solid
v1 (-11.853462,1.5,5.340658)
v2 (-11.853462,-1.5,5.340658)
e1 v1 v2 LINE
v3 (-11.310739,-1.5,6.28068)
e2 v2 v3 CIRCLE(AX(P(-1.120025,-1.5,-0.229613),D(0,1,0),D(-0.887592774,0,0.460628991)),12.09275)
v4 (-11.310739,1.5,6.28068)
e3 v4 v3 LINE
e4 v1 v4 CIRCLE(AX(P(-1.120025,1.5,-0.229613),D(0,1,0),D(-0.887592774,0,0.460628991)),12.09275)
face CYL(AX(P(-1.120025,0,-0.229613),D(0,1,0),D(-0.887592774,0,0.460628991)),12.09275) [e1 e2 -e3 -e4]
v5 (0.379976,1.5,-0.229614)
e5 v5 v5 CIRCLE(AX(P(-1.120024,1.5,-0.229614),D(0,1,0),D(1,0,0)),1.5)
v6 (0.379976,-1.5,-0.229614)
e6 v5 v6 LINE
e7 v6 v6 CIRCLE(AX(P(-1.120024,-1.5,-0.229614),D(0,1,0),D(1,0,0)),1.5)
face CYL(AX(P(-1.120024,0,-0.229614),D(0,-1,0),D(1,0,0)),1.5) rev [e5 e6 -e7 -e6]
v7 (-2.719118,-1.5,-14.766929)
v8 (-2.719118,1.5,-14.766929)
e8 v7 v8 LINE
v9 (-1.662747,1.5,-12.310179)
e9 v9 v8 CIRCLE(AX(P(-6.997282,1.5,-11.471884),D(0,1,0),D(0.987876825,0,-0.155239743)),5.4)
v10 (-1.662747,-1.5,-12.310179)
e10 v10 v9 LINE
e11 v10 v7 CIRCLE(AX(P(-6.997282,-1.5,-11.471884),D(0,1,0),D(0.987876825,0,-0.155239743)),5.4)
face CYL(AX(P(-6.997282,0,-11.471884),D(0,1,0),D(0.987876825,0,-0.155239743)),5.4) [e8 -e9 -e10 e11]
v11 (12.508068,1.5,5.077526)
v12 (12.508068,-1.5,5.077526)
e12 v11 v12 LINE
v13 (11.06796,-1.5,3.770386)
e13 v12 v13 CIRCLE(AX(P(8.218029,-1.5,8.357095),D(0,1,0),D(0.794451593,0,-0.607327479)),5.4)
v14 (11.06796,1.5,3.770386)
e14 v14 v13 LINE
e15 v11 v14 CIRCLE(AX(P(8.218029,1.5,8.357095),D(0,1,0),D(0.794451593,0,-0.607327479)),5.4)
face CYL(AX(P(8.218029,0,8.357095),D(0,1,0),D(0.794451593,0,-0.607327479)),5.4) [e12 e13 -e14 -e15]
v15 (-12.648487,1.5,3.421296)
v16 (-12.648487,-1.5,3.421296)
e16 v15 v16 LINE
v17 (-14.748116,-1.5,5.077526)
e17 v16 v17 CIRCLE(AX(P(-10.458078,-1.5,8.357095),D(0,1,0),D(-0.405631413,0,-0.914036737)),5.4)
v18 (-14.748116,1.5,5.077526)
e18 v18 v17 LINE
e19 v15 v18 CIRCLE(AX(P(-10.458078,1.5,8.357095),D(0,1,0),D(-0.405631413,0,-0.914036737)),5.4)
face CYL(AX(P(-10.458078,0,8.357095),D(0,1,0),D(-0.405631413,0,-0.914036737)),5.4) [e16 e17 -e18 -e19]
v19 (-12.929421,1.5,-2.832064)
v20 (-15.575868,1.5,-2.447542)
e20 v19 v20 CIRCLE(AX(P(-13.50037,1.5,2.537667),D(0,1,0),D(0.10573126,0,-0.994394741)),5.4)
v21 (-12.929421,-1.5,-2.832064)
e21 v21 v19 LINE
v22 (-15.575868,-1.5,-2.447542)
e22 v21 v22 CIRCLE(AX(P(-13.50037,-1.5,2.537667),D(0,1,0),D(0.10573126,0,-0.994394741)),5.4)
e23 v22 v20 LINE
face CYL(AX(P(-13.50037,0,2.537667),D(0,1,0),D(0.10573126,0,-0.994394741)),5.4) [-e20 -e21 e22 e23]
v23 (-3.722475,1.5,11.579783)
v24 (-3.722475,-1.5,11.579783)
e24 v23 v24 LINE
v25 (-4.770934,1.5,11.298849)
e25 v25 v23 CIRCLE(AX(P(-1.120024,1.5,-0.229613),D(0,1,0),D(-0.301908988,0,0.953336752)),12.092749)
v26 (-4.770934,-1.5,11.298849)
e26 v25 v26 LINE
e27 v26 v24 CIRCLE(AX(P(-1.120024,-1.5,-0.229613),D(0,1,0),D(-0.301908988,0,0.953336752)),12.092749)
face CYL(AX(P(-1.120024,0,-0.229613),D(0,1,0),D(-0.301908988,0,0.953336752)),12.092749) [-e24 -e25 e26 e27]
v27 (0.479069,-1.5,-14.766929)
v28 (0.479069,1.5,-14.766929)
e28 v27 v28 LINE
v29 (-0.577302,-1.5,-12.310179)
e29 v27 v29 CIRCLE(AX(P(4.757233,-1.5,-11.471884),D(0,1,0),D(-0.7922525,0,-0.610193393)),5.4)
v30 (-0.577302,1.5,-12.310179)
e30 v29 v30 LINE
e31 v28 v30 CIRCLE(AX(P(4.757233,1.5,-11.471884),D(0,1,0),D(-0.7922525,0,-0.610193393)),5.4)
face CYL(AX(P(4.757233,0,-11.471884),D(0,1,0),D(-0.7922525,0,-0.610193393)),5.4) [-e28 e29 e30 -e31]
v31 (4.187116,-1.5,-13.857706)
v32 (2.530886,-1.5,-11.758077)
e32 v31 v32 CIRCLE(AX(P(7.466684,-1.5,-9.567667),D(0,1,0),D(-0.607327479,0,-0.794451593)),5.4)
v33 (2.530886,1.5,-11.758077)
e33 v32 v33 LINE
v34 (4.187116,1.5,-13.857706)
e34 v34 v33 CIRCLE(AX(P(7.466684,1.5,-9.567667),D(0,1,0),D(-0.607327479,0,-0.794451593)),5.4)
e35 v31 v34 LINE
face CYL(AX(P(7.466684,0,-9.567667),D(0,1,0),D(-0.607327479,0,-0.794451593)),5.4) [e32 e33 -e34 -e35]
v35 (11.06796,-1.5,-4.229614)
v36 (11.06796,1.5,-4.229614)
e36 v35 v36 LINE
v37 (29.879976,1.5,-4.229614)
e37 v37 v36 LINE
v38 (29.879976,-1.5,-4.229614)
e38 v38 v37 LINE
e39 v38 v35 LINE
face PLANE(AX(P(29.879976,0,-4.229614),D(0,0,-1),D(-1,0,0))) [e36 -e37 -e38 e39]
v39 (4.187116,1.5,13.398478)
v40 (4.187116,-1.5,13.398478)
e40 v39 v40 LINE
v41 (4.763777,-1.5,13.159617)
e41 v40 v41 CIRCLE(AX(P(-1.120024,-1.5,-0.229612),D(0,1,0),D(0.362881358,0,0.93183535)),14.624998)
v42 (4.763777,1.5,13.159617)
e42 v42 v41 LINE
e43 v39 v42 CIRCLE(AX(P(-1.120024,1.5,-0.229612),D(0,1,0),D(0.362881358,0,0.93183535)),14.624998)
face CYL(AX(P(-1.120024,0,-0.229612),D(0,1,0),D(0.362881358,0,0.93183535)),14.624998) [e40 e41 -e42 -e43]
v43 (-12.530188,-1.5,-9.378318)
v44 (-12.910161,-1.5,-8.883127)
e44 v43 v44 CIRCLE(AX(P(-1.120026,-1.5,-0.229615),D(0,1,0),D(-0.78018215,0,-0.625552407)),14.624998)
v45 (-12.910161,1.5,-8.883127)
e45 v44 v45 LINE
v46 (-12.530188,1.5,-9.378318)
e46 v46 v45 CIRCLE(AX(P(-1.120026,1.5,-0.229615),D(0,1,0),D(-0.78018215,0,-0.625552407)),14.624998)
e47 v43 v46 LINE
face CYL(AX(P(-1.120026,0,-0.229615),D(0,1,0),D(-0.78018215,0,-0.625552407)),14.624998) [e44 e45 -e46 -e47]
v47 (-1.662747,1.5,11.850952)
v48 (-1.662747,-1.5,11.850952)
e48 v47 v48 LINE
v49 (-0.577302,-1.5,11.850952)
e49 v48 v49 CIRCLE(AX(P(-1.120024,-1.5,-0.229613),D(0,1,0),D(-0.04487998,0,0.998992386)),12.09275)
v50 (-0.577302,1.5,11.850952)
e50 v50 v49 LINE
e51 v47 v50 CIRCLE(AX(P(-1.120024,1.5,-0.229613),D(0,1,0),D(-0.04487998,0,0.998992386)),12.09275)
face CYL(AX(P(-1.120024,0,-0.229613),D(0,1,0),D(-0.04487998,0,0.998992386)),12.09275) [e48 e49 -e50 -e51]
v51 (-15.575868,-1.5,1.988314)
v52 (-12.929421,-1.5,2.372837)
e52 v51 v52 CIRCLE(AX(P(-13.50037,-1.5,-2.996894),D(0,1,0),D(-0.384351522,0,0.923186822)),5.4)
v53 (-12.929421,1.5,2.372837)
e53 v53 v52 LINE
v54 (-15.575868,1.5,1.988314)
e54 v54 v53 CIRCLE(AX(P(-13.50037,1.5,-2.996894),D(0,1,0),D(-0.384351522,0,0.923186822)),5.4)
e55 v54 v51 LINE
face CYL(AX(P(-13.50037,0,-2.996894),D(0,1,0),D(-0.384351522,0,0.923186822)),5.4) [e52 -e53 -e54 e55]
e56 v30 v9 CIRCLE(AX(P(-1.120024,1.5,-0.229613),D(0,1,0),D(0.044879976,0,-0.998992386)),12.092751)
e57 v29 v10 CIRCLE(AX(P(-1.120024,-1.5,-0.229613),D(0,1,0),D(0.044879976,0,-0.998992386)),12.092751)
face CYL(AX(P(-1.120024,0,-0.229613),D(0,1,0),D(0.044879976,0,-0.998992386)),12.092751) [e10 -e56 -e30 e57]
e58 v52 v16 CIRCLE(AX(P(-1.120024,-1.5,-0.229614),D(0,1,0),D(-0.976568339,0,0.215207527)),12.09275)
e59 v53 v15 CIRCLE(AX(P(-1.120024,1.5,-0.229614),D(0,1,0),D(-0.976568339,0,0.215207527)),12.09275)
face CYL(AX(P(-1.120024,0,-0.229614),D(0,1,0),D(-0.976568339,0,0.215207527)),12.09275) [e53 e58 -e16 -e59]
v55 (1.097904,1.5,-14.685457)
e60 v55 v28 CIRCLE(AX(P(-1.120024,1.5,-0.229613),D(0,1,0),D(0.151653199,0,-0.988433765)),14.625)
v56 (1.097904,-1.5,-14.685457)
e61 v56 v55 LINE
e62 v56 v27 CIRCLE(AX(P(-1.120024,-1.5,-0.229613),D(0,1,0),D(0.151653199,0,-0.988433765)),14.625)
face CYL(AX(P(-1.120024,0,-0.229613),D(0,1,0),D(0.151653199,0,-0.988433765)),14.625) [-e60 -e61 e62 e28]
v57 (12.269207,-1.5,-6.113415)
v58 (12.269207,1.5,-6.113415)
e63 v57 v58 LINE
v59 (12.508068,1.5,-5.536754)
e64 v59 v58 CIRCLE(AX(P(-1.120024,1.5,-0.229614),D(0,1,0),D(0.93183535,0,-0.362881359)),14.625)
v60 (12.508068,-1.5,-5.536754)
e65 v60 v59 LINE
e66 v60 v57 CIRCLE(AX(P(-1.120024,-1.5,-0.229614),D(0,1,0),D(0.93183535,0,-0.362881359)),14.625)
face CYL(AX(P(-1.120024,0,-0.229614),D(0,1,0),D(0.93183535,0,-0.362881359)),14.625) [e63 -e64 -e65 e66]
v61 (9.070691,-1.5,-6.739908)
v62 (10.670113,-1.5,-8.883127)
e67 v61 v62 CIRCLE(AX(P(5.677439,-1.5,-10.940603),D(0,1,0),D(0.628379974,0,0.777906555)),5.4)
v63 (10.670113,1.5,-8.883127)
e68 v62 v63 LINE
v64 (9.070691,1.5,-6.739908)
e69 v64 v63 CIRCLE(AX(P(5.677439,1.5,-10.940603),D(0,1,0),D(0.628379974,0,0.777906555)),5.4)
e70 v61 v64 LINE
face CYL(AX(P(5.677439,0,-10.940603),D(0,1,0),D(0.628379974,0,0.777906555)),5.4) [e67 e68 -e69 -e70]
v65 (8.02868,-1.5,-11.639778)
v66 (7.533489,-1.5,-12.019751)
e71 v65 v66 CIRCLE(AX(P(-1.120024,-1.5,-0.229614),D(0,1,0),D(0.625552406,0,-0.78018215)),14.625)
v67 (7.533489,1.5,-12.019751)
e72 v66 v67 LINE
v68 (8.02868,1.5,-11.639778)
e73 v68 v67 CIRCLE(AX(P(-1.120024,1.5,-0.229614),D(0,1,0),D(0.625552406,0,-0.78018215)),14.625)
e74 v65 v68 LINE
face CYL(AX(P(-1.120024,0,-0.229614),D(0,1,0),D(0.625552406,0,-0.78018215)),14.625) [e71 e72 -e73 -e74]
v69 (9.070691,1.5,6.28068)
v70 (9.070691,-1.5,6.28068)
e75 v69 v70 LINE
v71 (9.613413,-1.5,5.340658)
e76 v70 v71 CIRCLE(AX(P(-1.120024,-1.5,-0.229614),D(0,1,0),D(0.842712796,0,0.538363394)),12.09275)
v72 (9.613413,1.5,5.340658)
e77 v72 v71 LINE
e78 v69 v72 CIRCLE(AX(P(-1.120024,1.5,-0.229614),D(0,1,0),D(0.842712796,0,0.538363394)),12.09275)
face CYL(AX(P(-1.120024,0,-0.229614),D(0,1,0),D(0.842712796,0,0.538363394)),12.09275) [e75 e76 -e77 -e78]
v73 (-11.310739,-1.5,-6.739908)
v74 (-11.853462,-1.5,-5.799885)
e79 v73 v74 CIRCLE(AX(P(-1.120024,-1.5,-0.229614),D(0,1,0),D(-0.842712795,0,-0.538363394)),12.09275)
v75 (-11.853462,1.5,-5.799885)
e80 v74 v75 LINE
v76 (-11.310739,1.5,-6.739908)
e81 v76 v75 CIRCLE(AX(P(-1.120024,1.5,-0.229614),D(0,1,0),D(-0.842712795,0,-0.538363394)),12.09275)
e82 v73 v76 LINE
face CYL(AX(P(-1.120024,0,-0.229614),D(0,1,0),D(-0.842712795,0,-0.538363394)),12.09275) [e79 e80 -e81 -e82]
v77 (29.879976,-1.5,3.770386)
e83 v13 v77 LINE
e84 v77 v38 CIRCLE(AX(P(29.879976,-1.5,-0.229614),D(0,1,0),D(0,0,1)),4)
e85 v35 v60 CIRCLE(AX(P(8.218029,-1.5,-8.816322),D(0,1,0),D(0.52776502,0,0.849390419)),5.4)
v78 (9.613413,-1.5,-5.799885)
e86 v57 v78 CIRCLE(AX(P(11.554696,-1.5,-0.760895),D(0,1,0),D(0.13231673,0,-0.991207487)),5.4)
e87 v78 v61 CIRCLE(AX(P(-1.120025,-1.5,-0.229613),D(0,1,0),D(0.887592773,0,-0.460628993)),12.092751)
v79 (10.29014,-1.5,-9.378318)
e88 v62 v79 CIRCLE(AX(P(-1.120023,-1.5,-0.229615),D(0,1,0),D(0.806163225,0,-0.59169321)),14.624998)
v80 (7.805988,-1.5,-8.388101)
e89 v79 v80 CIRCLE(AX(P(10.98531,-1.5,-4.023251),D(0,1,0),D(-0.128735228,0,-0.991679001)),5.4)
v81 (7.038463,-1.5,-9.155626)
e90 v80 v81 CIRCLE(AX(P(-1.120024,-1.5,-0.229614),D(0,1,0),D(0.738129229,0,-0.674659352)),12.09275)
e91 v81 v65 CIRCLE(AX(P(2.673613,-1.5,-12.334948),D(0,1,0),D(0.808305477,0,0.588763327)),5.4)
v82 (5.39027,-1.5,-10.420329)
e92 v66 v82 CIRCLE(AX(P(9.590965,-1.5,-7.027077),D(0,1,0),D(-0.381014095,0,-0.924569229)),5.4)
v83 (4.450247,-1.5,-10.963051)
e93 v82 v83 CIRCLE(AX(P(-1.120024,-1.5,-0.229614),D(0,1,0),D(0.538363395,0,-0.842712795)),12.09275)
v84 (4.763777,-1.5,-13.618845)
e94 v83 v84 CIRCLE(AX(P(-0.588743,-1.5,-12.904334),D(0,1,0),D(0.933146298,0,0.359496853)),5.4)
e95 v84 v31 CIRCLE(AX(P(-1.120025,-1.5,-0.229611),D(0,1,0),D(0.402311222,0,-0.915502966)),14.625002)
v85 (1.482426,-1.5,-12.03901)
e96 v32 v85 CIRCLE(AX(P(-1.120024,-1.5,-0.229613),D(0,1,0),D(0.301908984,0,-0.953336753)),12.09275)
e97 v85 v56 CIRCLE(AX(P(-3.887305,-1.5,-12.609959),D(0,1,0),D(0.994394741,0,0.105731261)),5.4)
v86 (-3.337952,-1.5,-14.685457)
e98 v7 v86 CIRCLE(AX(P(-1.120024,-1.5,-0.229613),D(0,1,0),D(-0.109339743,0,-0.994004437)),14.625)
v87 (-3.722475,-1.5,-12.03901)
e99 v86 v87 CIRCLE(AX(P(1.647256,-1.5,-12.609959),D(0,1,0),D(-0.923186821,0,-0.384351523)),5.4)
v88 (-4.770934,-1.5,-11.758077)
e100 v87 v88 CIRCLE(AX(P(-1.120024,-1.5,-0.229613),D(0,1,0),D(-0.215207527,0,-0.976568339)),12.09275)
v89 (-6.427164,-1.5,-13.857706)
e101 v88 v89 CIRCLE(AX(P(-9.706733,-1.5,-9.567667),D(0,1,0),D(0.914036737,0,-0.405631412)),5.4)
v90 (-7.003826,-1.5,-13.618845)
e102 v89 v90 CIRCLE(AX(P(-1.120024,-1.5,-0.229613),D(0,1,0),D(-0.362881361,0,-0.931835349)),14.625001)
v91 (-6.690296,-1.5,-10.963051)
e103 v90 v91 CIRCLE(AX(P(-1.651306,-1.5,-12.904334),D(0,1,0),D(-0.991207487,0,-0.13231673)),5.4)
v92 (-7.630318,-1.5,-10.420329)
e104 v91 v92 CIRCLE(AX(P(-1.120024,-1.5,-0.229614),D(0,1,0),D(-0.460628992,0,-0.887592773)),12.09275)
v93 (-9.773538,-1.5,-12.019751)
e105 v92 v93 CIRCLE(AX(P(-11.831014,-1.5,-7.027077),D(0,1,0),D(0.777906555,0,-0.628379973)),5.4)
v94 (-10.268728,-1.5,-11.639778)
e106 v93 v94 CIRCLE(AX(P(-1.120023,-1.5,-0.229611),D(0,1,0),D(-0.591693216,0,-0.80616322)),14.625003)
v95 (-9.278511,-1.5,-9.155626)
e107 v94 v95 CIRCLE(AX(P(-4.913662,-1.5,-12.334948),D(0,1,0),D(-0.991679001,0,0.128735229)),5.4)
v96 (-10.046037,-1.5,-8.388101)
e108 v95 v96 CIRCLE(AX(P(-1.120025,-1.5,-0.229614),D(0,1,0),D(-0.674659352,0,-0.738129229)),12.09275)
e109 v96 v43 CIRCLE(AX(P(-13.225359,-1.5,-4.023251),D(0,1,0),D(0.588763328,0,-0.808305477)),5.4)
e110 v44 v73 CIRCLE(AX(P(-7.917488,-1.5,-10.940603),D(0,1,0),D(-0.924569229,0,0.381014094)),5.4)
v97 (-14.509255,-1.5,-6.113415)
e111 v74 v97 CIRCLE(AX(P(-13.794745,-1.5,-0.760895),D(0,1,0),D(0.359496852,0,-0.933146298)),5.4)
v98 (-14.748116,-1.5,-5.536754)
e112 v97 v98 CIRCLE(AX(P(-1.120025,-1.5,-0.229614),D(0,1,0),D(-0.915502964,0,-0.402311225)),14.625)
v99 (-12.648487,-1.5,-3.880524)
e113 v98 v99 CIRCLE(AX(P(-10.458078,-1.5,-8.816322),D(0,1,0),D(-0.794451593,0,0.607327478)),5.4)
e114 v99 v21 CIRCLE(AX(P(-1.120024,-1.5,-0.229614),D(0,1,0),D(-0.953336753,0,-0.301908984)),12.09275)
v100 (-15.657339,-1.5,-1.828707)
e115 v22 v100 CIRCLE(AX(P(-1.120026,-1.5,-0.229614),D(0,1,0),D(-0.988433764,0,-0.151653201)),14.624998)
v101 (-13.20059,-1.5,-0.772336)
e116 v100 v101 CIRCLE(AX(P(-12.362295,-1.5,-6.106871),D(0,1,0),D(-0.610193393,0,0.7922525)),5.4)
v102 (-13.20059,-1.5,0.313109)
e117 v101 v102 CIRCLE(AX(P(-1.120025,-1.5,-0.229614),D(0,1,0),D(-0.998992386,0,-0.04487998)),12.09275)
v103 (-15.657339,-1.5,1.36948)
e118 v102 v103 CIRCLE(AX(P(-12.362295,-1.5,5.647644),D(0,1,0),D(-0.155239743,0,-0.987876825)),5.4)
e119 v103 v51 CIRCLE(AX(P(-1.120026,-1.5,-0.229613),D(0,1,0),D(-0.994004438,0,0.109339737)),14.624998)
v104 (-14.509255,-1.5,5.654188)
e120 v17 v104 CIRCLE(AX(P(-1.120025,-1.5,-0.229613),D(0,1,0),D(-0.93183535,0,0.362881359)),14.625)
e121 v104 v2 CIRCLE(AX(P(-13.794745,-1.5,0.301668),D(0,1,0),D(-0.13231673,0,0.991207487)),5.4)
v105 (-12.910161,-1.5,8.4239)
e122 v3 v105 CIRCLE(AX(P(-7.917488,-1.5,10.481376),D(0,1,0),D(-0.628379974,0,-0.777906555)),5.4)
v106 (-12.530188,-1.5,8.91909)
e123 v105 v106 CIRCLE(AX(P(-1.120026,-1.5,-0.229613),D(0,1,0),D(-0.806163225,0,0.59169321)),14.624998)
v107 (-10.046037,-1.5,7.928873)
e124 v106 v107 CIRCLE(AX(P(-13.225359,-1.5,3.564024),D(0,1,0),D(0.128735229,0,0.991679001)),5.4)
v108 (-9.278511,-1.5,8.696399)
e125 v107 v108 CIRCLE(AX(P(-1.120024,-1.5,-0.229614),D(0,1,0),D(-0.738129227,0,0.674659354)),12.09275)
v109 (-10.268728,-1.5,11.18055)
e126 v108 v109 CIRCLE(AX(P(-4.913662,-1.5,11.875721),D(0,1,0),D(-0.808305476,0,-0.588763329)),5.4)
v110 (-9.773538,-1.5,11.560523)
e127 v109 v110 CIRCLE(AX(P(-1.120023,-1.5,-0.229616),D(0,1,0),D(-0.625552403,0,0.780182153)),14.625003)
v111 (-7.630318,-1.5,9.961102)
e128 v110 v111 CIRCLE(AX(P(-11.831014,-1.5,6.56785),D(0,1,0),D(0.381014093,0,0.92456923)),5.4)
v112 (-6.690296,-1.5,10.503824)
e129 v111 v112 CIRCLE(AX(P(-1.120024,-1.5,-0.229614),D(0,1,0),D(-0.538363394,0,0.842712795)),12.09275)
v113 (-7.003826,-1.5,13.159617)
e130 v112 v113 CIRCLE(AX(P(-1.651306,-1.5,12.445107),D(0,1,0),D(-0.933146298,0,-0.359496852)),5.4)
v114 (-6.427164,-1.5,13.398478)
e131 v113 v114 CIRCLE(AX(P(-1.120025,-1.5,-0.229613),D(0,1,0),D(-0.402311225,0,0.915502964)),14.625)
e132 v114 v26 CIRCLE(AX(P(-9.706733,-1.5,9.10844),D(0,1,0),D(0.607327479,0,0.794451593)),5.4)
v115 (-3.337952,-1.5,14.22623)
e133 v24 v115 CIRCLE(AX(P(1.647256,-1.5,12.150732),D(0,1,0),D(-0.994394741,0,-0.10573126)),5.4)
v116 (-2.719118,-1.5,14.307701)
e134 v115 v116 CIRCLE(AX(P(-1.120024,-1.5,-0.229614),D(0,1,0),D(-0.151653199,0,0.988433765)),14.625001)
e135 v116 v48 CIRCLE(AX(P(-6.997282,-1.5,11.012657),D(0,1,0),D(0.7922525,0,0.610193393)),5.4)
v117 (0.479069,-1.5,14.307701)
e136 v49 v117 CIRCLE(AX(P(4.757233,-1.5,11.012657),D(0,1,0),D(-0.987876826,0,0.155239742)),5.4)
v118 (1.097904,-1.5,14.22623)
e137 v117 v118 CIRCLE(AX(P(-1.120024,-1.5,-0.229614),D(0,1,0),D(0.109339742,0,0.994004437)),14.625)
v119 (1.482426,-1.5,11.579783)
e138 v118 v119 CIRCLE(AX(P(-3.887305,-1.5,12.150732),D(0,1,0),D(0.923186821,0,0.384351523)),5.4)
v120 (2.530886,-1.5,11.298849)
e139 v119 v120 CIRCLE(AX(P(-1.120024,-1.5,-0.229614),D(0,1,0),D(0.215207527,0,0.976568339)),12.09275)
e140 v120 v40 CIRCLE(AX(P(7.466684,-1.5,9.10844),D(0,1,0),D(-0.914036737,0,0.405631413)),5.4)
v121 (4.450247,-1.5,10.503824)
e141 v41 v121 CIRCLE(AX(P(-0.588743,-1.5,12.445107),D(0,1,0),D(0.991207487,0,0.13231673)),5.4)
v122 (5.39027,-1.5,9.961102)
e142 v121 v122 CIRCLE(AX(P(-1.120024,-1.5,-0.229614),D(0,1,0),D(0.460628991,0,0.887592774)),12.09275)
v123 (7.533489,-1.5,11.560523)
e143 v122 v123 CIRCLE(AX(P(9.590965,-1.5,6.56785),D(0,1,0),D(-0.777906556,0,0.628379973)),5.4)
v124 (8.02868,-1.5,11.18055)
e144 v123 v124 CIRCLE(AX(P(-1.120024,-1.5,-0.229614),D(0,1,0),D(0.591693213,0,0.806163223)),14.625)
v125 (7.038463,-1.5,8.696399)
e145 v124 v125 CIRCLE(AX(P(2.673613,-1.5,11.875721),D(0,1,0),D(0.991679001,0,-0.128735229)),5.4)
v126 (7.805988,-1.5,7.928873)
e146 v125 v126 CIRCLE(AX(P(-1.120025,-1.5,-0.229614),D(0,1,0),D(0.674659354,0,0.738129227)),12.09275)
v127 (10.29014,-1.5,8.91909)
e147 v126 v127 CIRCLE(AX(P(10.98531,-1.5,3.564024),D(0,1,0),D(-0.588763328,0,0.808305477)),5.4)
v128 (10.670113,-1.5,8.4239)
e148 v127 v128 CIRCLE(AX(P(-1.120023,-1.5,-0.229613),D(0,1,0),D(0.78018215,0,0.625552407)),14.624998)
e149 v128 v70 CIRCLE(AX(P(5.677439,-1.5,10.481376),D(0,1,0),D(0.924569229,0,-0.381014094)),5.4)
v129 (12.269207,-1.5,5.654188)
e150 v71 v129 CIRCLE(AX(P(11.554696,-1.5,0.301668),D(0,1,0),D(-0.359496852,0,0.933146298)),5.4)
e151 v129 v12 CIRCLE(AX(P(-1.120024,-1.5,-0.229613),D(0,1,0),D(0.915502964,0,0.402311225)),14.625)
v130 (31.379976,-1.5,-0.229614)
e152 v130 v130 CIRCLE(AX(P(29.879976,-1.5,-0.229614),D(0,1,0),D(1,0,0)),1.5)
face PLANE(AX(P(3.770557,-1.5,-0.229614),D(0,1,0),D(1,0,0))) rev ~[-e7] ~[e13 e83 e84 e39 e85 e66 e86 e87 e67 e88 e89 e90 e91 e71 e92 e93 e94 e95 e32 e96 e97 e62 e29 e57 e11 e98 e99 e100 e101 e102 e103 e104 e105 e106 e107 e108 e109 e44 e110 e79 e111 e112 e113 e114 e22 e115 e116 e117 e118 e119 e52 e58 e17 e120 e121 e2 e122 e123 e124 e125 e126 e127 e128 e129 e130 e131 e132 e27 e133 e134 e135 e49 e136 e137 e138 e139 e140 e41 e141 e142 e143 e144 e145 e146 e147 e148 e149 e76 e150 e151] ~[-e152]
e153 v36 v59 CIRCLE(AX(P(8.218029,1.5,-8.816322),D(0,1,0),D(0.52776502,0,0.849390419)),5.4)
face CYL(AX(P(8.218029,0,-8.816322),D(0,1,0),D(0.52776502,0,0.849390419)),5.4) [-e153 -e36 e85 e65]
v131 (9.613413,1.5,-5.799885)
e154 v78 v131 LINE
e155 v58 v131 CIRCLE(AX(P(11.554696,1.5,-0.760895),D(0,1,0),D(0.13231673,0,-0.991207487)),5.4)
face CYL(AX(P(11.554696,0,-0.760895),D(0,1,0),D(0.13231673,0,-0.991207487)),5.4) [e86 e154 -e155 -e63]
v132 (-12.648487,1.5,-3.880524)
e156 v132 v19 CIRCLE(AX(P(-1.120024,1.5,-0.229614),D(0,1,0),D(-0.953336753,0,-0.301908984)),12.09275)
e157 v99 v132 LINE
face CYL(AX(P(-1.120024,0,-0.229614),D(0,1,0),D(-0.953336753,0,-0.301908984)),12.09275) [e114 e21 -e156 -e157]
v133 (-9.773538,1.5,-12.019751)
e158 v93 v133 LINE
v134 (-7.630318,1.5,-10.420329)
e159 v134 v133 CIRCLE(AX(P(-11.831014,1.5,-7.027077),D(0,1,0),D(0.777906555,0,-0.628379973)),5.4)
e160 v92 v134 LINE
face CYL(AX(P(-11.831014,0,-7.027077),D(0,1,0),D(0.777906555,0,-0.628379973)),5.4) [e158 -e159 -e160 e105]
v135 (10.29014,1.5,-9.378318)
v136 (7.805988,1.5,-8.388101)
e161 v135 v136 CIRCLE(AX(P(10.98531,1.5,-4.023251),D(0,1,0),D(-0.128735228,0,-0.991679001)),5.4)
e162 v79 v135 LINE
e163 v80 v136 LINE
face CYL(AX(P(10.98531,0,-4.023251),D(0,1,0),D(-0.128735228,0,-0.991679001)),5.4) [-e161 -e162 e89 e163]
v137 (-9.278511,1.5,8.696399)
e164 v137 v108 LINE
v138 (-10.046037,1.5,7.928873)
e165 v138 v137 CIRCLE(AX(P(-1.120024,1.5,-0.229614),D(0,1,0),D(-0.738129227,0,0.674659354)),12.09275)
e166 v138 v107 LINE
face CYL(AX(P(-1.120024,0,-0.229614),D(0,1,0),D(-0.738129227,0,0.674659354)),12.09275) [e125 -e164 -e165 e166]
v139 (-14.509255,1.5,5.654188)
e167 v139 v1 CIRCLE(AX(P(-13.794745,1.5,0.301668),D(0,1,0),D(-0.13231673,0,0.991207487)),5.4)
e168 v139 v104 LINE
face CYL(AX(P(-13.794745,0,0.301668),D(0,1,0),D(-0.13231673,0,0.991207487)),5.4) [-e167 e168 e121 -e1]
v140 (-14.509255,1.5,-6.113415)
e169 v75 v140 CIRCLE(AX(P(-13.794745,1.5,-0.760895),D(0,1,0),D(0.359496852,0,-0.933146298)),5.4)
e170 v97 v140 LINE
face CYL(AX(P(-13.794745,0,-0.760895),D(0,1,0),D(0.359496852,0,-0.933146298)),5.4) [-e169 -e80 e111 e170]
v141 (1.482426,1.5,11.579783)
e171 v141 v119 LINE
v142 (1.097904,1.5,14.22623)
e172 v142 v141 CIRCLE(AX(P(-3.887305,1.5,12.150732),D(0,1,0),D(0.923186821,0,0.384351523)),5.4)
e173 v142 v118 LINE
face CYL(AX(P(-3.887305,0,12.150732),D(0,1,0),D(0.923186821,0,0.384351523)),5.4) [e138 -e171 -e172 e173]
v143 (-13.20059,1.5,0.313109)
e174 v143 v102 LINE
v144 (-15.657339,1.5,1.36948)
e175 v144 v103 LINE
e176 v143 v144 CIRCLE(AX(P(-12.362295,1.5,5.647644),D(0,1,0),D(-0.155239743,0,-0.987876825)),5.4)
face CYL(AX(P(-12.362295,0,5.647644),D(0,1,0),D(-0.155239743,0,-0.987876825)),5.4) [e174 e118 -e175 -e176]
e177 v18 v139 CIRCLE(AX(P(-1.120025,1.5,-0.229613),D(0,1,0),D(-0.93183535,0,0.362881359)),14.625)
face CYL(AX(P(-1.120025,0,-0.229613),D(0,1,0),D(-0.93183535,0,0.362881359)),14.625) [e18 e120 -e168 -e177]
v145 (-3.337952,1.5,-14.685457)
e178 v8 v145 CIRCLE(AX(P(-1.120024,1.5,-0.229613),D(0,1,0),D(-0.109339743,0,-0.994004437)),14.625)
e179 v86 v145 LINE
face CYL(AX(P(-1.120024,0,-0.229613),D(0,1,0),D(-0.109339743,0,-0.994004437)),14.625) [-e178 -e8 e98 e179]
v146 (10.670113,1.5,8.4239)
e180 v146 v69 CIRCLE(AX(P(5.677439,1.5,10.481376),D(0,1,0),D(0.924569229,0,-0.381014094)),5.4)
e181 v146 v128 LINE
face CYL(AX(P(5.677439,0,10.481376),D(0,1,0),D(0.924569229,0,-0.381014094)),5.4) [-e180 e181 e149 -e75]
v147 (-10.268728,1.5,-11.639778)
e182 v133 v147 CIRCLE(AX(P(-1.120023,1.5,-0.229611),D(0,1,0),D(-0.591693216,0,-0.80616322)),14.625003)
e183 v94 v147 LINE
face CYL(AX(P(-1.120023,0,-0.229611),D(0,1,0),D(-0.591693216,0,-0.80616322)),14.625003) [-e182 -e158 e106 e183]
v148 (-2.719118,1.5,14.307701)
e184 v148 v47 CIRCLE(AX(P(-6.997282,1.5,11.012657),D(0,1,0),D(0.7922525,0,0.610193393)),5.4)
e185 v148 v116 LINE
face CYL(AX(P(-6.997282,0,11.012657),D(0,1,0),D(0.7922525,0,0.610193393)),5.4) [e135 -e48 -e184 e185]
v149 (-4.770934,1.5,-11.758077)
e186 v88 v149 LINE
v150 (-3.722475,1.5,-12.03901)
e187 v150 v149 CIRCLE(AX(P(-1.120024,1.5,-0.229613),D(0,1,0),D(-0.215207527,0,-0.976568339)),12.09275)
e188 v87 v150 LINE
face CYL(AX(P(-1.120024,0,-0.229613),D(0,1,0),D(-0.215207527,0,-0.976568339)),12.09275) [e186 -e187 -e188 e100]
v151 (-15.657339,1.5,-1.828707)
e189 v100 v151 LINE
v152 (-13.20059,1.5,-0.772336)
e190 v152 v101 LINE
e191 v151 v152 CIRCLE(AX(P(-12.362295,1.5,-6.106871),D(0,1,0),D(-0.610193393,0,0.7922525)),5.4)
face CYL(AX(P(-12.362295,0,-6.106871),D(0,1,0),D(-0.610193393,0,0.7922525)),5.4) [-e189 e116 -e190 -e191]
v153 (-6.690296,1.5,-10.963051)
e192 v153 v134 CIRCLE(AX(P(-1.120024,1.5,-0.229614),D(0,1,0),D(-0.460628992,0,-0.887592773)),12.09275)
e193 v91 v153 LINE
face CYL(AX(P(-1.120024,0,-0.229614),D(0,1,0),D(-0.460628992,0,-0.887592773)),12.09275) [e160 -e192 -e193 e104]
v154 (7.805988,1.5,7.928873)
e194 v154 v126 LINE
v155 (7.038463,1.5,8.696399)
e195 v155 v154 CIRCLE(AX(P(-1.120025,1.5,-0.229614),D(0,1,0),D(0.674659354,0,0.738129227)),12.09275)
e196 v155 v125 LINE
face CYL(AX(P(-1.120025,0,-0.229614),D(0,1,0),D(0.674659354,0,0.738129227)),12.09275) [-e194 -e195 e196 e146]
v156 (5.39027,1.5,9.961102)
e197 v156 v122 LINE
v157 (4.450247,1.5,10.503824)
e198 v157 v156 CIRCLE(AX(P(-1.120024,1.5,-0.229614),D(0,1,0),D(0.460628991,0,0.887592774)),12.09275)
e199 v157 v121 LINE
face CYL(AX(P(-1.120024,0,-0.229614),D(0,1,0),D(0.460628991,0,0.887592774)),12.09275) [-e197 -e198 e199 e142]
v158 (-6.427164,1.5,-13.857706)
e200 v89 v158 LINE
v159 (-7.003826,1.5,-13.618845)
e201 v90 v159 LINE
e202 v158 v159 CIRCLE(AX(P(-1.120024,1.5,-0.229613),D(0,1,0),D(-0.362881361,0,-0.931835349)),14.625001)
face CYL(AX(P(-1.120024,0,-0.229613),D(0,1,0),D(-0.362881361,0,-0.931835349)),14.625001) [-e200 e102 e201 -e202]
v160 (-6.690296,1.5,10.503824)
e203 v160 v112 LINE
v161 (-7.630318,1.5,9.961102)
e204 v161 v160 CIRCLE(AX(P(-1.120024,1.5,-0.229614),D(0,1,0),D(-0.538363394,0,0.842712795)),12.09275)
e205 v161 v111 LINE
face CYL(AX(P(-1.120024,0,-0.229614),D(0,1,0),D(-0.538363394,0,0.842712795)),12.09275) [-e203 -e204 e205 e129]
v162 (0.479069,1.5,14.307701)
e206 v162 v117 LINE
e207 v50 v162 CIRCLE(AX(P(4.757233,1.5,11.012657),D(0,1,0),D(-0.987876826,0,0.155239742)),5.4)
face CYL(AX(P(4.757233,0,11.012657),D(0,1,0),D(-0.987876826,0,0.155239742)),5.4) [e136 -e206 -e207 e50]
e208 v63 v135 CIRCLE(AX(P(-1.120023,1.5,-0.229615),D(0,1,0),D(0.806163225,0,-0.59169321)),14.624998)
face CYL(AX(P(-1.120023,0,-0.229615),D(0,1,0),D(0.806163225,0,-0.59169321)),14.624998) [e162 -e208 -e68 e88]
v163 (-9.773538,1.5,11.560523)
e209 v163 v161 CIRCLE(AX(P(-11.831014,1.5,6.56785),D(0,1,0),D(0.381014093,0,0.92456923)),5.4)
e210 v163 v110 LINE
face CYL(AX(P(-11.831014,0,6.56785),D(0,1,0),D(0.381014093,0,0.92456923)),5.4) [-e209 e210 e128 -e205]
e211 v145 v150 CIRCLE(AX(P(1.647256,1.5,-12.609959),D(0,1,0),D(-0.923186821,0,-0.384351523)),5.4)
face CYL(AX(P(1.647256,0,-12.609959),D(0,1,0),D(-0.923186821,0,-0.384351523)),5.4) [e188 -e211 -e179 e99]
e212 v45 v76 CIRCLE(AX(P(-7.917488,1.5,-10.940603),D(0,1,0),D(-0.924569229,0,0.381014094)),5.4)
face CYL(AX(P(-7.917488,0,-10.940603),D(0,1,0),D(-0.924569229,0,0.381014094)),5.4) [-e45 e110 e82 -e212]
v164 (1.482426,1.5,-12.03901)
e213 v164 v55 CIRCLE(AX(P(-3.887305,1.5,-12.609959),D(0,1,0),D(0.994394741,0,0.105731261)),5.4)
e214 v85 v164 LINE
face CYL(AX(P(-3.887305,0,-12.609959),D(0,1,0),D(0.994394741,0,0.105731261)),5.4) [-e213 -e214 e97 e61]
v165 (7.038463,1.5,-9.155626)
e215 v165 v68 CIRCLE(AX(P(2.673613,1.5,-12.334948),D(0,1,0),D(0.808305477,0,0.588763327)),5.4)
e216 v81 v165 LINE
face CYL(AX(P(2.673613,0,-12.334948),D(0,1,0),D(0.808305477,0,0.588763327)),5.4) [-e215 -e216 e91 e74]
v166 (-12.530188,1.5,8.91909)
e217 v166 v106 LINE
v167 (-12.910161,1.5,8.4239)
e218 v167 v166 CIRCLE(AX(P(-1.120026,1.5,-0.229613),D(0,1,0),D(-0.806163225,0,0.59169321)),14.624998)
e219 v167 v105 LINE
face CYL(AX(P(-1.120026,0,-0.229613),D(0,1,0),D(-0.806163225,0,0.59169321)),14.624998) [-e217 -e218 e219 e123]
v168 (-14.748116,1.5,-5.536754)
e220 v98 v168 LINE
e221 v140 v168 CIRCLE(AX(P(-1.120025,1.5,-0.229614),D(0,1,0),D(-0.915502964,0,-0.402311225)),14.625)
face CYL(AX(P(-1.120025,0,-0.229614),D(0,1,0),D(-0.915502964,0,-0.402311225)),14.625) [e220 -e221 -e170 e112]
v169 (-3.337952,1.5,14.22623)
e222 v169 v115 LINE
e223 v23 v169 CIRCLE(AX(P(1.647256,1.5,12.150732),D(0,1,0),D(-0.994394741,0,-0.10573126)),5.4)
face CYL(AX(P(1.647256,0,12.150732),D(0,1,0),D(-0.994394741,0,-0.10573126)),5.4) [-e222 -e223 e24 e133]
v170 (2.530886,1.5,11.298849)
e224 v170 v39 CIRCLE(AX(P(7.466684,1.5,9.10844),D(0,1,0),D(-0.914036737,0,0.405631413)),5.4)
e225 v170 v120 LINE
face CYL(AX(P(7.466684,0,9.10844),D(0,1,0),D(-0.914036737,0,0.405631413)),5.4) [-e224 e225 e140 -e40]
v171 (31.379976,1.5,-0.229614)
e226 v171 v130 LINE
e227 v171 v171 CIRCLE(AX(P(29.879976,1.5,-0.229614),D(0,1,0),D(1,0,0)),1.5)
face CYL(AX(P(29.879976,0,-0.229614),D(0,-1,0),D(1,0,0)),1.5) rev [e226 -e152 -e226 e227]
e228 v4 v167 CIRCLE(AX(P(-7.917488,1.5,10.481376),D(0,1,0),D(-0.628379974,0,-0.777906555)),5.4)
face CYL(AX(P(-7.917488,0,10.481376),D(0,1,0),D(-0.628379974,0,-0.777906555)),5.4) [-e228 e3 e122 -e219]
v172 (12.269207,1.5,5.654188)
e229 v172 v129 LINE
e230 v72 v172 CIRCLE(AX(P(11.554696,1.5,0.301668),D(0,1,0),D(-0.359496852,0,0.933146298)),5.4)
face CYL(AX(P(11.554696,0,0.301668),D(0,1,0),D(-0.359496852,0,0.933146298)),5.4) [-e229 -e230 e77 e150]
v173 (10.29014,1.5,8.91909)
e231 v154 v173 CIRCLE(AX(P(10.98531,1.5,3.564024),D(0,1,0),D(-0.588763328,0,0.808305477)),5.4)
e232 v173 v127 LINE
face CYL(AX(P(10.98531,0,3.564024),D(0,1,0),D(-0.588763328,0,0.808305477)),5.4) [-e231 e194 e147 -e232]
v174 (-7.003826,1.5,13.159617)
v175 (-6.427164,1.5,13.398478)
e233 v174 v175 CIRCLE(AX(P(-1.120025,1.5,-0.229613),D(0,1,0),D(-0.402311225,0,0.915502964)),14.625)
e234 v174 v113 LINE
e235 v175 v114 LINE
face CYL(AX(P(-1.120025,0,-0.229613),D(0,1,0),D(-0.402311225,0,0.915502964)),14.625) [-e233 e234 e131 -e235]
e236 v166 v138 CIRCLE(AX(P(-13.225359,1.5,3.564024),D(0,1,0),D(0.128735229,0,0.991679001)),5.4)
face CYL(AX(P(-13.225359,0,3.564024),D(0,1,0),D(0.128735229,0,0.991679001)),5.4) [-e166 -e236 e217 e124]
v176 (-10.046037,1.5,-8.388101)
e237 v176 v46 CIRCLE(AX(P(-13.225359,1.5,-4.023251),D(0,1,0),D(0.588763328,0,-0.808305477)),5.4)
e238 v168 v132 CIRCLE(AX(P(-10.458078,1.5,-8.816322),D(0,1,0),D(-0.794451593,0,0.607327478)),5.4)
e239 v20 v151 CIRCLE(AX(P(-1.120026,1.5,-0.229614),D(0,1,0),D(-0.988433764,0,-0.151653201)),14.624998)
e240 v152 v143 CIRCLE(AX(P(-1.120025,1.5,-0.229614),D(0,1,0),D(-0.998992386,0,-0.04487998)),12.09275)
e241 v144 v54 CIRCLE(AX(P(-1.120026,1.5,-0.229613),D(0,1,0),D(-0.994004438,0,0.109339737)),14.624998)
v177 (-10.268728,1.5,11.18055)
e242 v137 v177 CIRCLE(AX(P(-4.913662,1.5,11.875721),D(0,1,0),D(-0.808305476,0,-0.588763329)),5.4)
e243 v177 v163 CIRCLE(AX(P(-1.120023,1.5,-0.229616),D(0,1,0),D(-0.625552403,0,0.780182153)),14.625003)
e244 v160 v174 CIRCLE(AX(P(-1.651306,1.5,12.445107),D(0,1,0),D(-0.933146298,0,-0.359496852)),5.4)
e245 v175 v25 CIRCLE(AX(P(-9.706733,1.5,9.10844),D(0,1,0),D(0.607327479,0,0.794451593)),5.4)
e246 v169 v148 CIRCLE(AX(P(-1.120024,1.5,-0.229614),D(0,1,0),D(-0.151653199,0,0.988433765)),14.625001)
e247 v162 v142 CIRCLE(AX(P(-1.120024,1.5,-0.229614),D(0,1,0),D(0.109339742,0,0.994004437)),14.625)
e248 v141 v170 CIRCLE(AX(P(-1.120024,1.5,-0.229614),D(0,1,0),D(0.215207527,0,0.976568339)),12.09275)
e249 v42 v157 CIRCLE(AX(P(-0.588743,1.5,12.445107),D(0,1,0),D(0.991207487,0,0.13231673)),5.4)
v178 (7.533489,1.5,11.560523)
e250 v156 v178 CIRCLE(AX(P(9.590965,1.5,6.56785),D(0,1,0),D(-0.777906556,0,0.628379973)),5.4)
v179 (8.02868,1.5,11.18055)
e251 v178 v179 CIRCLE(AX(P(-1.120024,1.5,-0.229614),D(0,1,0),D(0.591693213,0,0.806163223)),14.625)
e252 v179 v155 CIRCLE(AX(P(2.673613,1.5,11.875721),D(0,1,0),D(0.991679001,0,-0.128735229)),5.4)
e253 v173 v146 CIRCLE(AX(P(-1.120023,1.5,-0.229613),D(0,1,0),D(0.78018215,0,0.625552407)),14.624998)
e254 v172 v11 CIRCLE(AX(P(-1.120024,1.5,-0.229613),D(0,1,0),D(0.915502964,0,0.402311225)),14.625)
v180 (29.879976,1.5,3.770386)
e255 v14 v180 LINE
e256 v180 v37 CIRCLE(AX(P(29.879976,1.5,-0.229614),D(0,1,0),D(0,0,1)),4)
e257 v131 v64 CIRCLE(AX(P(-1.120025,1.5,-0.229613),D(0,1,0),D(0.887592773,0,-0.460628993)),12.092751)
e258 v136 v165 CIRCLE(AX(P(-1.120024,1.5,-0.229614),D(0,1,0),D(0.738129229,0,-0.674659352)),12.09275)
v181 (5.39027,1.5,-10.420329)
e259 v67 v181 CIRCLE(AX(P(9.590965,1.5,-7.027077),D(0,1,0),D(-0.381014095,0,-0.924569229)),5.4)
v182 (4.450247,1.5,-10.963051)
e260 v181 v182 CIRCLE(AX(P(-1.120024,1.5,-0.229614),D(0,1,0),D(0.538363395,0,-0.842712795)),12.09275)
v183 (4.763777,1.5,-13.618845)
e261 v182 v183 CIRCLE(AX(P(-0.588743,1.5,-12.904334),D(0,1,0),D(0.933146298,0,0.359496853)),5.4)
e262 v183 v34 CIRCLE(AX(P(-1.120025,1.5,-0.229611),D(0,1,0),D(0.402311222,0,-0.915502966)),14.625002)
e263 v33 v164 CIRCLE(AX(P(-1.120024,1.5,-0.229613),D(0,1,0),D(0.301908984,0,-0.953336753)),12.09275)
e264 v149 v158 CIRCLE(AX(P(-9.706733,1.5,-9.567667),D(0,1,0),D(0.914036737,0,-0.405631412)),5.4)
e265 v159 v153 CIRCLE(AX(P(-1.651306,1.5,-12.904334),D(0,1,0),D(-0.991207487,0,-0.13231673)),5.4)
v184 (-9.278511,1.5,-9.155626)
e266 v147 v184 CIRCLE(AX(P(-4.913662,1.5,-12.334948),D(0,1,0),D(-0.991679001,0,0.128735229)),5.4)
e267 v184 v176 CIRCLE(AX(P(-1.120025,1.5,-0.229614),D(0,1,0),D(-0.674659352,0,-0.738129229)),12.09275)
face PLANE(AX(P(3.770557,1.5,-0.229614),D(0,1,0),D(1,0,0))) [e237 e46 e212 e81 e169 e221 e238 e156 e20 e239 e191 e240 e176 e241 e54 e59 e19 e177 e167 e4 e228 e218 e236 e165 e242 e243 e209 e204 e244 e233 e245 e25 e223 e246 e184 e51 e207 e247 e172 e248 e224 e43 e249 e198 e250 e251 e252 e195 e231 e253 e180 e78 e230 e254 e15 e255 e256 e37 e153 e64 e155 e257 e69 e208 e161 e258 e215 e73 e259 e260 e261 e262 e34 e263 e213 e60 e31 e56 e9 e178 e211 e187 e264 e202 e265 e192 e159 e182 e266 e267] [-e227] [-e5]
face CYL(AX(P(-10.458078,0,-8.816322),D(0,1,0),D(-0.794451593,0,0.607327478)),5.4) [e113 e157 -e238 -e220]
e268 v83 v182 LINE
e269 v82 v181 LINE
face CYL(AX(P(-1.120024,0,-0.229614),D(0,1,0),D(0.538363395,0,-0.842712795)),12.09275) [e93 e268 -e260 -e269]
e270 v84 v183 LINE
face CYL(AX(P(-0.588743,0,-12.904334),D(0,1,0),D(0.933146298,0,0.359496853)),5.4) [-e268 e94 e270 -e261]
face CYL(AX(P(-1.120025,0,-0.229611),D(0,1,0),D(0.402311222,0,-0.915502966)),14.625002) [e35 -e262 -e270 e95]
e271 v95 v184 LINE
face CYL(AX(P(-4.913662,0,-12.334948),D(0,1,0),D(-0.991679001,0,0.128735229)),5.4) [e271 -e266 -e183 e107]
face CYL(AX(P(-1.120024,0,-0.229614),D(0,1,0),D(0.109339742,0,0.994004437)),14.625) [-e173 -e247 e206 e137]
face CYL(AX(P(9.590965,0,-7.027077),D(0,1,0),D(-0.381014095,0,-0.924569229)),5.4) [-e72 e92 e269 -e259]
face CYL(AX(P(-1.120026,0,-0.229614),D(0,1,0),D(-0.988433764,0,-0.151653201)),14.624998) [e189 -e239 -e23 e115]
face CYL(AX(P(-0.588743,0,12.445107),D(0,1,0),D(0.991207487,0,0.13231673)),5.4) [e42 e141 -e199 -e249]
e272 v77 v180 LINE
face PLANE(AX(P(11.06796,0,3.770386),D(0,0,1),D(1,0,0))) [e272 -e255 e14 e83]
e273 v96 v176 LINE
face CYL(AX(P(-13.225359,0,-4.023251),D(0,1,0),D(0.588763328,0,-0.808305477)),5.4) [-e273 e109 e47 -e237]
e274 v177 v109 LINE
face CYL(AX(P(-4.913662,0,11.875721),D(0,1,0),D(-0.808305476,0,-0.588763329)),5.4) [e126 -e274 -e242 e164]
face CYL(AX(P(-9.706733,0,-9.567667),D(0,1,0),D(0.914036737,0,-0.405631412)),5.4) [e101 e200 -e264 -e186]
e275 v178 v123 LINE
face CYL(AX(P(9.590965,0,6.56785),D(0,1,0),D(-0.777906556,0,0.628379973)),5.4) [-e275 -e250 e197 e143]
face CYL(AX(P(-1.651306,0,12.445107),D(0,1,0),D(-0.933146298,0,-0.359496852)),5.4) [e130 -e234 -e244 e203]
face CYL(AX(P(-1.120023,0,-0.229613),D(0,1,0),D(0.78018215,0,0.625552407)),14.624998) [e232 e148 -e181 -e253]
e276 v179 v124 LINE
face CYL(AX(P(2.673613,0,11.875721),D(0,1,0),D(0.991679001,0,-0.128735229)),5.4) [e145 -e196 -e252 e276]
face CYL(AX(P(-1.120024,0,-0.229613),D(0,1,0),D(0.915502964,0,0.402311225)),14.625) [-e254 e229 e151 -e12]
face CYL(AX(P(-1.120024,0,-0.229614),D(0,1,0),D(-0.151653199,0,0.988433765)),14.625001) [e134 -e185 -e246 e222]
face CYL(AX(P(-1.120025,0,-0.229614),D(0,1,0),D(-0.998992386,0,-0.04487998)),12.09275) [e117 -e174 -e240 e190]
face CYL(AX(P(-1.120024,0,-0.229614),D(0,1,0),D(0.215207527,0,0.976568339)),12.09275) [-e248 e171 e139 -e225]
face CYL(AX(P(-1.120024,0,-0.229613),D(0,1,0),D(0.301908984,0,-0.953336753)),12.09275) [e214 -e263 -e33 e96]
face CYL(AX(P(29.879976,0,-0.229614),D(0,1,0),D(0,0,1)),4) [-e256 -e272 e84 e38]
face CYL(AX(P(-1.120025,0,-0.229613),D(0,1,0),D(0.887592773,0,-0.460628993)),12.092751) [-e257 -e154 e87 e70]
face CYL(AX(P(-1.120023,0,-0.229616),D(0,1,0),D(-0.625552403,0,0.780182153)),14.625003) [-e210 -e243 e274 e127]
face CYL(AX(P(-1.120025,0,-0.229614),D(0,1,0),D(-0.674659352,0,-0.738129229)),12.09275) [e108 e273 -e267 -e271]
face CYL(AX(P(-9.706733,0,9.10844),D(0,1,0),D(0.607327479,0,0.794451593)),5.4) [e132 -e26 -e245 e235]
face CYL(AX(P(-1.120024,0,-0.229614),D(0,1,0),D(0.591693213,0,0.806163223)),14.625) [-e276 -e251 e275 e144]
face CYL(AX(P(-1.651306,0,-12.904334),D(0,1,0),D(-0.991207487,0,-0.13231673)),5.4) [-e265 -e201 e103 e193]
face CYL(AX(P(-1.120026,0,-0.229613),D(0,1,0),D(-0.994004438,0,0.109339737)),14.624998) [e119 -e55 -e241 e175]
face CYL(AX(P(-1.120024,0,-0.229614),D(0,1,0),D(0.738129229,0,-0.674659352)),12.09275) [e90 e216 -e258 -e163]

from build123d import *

# Parameters (mm, degrees)
SKETCH1_R           = 1.5
BOSS_EXTRUDE1_DEPTH = 1.5


with BuildPart() as part:
    # Sketch1 → Boss-Extrude1 (new body, symmetric)
    with BuildSketch(Plane(origin=(0, 0, 0), x_dir=(1, 0, 0), z_dir=(0, 1, 0))):
        with BuildLine():
            Line((11.067960149, -3.770386358), (29.879975659, -3.770386358))
            ThreePointArc((29.879975659, -3.770386358), (33.879975659, 0.229613642), (29.879975659, 4.229613642))
            Line((29.879975659, 4.229613642), (11.067960149, 4.229613642))
            ThreePointArc((11.067960149, 4.229613642), (11.847346546, 4.817815376), (12.508067649, 5.536753523))
            ThreePointArc((12.508067649, 5.536753523), (12.391713822, 5.826358841), (12.269206518, 6.113415305))
            ThreePointArc((12.269206518, 6.113415305), (10.921594192, 6.123653667), (9.613413173, 5.799884882))
            ThreePointArc((9.613413173, 5.799884882), (9.35260436, 6.275988642), (9.070690816, 6.73990758))
            ThreePointArc((9.070690816, 6.73990758), (10.005173318, 7.710941183), (10.670112799, 8.883126872))
            ThreePointArc((10.670112799, 8.883126872), (10.482768261, 9.132749542), (10.290139612, 9.378317571))
            ThreePointArc((10.290139612, 9.378317571), (8.985796179, 9.039419334), (7.805987876, 8.38810054))
            ThreePointArc((7.805987876, 8.38810054), (7.430841187, 8.780479171), (7.038462557, 9.155625859))
            ThreePointArc((7.038462557, 9.155625859), (7.68978135, 10.335434163), (8.028679587, 11.639777595))
            ThreePointArc((8.028679587, 11.639777595), (7.783111558, 11.832406244), (7.533488888, 12.019750783))
            ThreePointArc((7.533488888, 12.019750783), (6.361303199, 11.354811301), (5.390269597, 10.420328799))
            ThreePointArc((5.390269597, 10.420328799), (4.926350659, 10.702242344), (4.450246898, 10.963051157))
            ThreePointArc((4.450246898, 10.963051157), (4.774015684, 12.271232176), (4.763777322, 13.618844501))
            ThreePointArc((4.763777322, 13.618844501), (4.476720857, 13.741351805), (4.187115539, 13.857705633))
            ThreePointArc((4.187115539, 13.857705633), (3.22697011, 12.912039434), (2.530885544, 11.758076661))
            ThreePointArc((2.530885544, 11.758076661), (2.009809666, 11.910313178), (1.48242646, 12.039010426))
            ThreePointArc((1.48242646, 12.039010426), (1.45658093, 13.386413785), (1.097903696, 14.685457451))
            ThreePointArc((1.097903696, 14.685457451), (0.78892122, 14.72949474), (0.479069377, 14.766928535))
            ThreePointArc((0.479069377, 14.766928535), (-0.203603467, 13.604981207), (-0.577301983, 12.31017882))
            ThreePointArc((-0.577301983, 12.31017882), (-1.120024341, 12.322363642), (-1.662746699, 12.31017882))
            ThreePointArc((-1.662746699, 12.31017882), (-2.036445216, 13.604981207), (-2.71911806, 14.766928535))
            ThreePointArc((-2.71911806, 14.766928535), (-3.028969902, 14.72949474), (-3.337952378, 14.685457451))
            ThreePointArc((-3.337952378, 14.685457451), (-3.696629612, 13.386413785), (-3.722475143, 12.039010426))
            ThreePointArc((-3.722475143, 12.039010426), (-4.249858349, 11.910313178), (-4.770934227, 11.758076661))
            ThreePointArc((-4.770934227, 11.758076661), (-5.467018792, 12.912039434), (-6.427164221, 13.857705633))
            ThreePointArc((-6.427164221, 13.857705633), (-6.71676954, 13.741351805), (-7.003826004, 13.618844501))
            ThreePointArc((-7.003826004, 13.618844501), (-7.014064366, 12.271232176), (-6.690295581, 10.963051157))
            ThreePointArc((-6.690295581, 10.963051157), (-7.166399341, 10.702242344), (-7.630318279, 10.420328799))
            ThreePointArc((-7.630318279, 10.420328799), (-8.601351881, 11.354811301), (-9.773537571, 12.019750783))
            ThreePointArc((-9.773537571, 12.019750783), (-10.02316024, 11.832406244), (-10.26872827, 11.639777595))
            ThreePointArc((-10.26872827, 11.639777595), (-9.929830033, 10.335434163), (-9.278511239, 9.155625859))
            ThreePointArc((-9.278511239, 9.155625859), (-9.670889869, 8.780479171), (-10.046036558, 8.38810054))
            ThreePointArc((-10.046036558, 8.38810054), (-11.225844862, 9.039419334), (-12.530188294, 9.378317571))
            ThreePointArc((-12.530188294, 9.378317571), (-12.722816943, 9.132749542), (-12.910161481, 8.883126872))
            ThreePointArc((-12.910161481, 8.883126872), (-12.245222, 7.710941183), (-11.310739498, 6.73990758))
            ThreePointArc((-11.310739498, 6.73990758), (-11.592653043, 6.275988642), (-11.853461856, 5.799884882))
            ThreePointArc((-11.853461856, 5.799884882), (-13.161642874, 6.123653667), (-14.5092552, 6.113415305))
            ThreePointArc((-14.5092552, 6.113415305), (-14.631762504, 5.826358841), (-14.748116331, 5.536753523))
            ThreePointArc((-14.748116331, 5.536753523), (-13.802450133, 4.576608094), (-12.64848736, 3.880523528))
            ThreePointArc((-12.64848736, 3.880523528), (-12.800723877, 3.35944765), (-12.929421125, 2.832064444))
            ThreePointArc((-12.929421125, 2.832064444), (-14.276824484, 2.806218913), (-15.57586815, 2.44754168))
            ThreePointArc((-15.57586815, 2.44754168), (-15.619905439, 2.138559204), (-15.657339233, 1.828707361))
            ThreePointArc((-15.657339233, 1.828707361), (-14.495391906, 1.146034517), (-13.200589518, 0.772336))
            ThreePointArc((-13.200589518, 0.772336), (-13.212774341, 0.229613642), (-13.200589518, -0.313108715))
            ThreePointArc((-13.200589518, -0.313108715), (-14.495391906, -0.686807232), (-15.657339233, -1.369480076))
            ThreePointArc((-15.657339233, -1.369480076), (-15.619905439, -1.679331919), (-15.57586815, -1.988314395))
            ThreePointArc((-15.57586815, -1.988314395), (-14.276824484, -2.346991628), (-12.929421125, -2.372837159))
            ThreePointArc((-12.929421125, -2.372837159), (-12.800723877, -2.900220365), (-12.64848736, -3.421296243))
            ThreePointArc((-12.64848736, -3.421296243), (-13.802450133, -4.117380809), (-14.748116331, -5.077526238))
            ThreePointArc((-14.748116331, -5.077526238), (-14.631762504, -5.367131556), (-14.5092552, -5.65418802))
            ThreePointArc((-14.5092552, -5.65418802), (-13.161642874, -5.664426382), (-11.853461856, -5.340657597))
            ThreePointArc((-11.853461856, -5.340657597), (-11.592653043, -5.816761358), (-11.310739498, -6.280680295))
            ThreePointArc((-11.310739498, -6.280680295), (-12.245222, -7.251713898), (-12.910161481, -8.423899587))
            ThreePointArc((-12.910161481, -8.423899587), (-12.722816943, -8.673522257), (-12.530188294, -8.919090286))
            ThreePointArc((-12.530188294, -8.919090286), (-11.225844862, -8.580192049), (-10.046036558, -7.928873256))
            ThreePointArc((-10.046036558, -7.928873256), (-9.670889869, -8.321251886), (-9.278511239, -8.696398575))
            ThreePointArc((-9.278511239, -8.696398575), (-9.929830033, -9.876206878), (-10.26872827, -11.18055031))
            ThreePointArc((-10.26872827, -11.18055031), (-10.02316024, -11.373178959), (-9.773537571, -11.560523498))
            ThreePointArc((-9.773537571, -11.560523498), (-8.601351881, -10.895584017), (-7.630318279, -9.961101514))
            ThreePointArc((-7.630318279, -9.961101514), (-7.166399341, -10.243015059), (-6.690295581, -10.503823872))
            ThreePointArc((-6.690295581, -10.503823872), (-7.014064366, -11.812004891), (-7.003826004, -13.159617217))
            ThreePointArc((-7.003826004, -13.159617217), (-6.71676954, -13.282124521), (-6.427164222, -13.398478348))
            ThreePointArc((-6.427164222, -13.398478348), (-5.467018793, -12.452812149), (-4.770934227, -11.298849376))
            ThreePointArc((-4.770934227, -11.298849376), (-4.249858349, -11.451085894), (-3.722475143, -11.579783141))
            ThreePointArc((-3.722475143, -11.579783141), (-3.696629612, -12.9271865), (-3.337952379, -14.226230166))
            ThreePointArc((-3.337952379, -14.226230166), (-3.028969902, -14.270267455), (-2.71911806, -14.30770125))
            ThreePointArc((-2.71911806, -14.30770125), (-2.036445216, -13.145753923), (-1.662746699, -11.850951535))
            ThreePointArc((-1.662746699, -11.850951535), (-1.120024341, -11.863136358), (-0.577301983, -11.850951535))
            ThreePointArc((-0.577301983, -11.850951535), (-0.203603467, -13.145753923), (0.479069377, -14.30770125))
            ThreePointArc((0.479069377, -14.30770125), (0.78892122, -14.270267455), (1.097903696, -14.226230166))
            ThreePointArc((1.097903696, -14.226230166), (1.45658093, -12.9271865), (1.48242646, -11.579783141))
            ThreePointArc((1.48242646, -11.579783141), (2.009809666, -11.451085893), (2.530885544, -11.298849376))
            ThreePointArc((2.530885544, -11.298849376), (3.22697011, -12.452812149), (4.187115539, -13.398478348))
            ThreePointArc((4.187115539, -13.398478348), (4.476720857, -13.282124521), (4.763777322, -13.159617216))
            ThreePointArc((4.763777322, -13.159617216), (4.774015684, -11.812004891), (4.450246898, -10.503823872))
            ThreePointArc((4.450246898, -10.503823872), (4.926350659, -10.243015059), (5.390269597, -9.961101514))
            ThreePointArc((5.390269597, -9.961101514), (6.361303199, -10.895584017), (7.533488888, -11.560523498))
            ThreePointArc((7.533488888, -11.560523498), (7.783111558, -11.373178959), (8.028679587, -11.18055031))
            ThreePointArc((8.028679587, -11.18055031), (7.68978135, -9.876206878), (7.038462557, -8.696398575))
            ThreePointArc((7.038462557, -8.696398575), (7.430841187, -8.321251886), (7.805987876, -7.928873256))
            ThreePointArc((7.805987876, -7.928873256), (8.985796179, -8.580192049), (10.290139612, -8.919090286))
            ThreePointArc((10.290139612, -8.919090286), (10.482768261, -8.673522257), (10.670112799, -8.423899587))
            ThreePointArc((10.670112799, -8.423899587), (10.005173318, -7.251713898), (9.070690816, -6.280680295))
            ThreePointArc((9.070690816, -6.280680295), (9.35260436, -5.816761358), (9.613413173, -5.340657597))
            ThreePointArc((9.613413173, -5.340657597), (10.921594192, -5.664426382), (12.269206518, -5.65418802))
            ThreePointArc((12.269206518, -5.65418802), (12.391713822, -5.367131556), (12.508067649, -5.077526238))
            ThreePointArc((12.508067649, -5.077526238), (11.847346546, -4.358588091), (11.067960149, -3.770386358))
        make_face()
        with Locations((29.879975659, 0.229613642)):
            Circle(SKETCH1_R, mode=Mode.SUBTRACT)
        with Locations((-1.120024341, 0.229613642)):
            Circle(SKETCH1_R, mode=Mode.SUBTRACT)
    extrude(amount=BOSS_EXTRUDE1_DEPTH, both=True)


solid = part.part
